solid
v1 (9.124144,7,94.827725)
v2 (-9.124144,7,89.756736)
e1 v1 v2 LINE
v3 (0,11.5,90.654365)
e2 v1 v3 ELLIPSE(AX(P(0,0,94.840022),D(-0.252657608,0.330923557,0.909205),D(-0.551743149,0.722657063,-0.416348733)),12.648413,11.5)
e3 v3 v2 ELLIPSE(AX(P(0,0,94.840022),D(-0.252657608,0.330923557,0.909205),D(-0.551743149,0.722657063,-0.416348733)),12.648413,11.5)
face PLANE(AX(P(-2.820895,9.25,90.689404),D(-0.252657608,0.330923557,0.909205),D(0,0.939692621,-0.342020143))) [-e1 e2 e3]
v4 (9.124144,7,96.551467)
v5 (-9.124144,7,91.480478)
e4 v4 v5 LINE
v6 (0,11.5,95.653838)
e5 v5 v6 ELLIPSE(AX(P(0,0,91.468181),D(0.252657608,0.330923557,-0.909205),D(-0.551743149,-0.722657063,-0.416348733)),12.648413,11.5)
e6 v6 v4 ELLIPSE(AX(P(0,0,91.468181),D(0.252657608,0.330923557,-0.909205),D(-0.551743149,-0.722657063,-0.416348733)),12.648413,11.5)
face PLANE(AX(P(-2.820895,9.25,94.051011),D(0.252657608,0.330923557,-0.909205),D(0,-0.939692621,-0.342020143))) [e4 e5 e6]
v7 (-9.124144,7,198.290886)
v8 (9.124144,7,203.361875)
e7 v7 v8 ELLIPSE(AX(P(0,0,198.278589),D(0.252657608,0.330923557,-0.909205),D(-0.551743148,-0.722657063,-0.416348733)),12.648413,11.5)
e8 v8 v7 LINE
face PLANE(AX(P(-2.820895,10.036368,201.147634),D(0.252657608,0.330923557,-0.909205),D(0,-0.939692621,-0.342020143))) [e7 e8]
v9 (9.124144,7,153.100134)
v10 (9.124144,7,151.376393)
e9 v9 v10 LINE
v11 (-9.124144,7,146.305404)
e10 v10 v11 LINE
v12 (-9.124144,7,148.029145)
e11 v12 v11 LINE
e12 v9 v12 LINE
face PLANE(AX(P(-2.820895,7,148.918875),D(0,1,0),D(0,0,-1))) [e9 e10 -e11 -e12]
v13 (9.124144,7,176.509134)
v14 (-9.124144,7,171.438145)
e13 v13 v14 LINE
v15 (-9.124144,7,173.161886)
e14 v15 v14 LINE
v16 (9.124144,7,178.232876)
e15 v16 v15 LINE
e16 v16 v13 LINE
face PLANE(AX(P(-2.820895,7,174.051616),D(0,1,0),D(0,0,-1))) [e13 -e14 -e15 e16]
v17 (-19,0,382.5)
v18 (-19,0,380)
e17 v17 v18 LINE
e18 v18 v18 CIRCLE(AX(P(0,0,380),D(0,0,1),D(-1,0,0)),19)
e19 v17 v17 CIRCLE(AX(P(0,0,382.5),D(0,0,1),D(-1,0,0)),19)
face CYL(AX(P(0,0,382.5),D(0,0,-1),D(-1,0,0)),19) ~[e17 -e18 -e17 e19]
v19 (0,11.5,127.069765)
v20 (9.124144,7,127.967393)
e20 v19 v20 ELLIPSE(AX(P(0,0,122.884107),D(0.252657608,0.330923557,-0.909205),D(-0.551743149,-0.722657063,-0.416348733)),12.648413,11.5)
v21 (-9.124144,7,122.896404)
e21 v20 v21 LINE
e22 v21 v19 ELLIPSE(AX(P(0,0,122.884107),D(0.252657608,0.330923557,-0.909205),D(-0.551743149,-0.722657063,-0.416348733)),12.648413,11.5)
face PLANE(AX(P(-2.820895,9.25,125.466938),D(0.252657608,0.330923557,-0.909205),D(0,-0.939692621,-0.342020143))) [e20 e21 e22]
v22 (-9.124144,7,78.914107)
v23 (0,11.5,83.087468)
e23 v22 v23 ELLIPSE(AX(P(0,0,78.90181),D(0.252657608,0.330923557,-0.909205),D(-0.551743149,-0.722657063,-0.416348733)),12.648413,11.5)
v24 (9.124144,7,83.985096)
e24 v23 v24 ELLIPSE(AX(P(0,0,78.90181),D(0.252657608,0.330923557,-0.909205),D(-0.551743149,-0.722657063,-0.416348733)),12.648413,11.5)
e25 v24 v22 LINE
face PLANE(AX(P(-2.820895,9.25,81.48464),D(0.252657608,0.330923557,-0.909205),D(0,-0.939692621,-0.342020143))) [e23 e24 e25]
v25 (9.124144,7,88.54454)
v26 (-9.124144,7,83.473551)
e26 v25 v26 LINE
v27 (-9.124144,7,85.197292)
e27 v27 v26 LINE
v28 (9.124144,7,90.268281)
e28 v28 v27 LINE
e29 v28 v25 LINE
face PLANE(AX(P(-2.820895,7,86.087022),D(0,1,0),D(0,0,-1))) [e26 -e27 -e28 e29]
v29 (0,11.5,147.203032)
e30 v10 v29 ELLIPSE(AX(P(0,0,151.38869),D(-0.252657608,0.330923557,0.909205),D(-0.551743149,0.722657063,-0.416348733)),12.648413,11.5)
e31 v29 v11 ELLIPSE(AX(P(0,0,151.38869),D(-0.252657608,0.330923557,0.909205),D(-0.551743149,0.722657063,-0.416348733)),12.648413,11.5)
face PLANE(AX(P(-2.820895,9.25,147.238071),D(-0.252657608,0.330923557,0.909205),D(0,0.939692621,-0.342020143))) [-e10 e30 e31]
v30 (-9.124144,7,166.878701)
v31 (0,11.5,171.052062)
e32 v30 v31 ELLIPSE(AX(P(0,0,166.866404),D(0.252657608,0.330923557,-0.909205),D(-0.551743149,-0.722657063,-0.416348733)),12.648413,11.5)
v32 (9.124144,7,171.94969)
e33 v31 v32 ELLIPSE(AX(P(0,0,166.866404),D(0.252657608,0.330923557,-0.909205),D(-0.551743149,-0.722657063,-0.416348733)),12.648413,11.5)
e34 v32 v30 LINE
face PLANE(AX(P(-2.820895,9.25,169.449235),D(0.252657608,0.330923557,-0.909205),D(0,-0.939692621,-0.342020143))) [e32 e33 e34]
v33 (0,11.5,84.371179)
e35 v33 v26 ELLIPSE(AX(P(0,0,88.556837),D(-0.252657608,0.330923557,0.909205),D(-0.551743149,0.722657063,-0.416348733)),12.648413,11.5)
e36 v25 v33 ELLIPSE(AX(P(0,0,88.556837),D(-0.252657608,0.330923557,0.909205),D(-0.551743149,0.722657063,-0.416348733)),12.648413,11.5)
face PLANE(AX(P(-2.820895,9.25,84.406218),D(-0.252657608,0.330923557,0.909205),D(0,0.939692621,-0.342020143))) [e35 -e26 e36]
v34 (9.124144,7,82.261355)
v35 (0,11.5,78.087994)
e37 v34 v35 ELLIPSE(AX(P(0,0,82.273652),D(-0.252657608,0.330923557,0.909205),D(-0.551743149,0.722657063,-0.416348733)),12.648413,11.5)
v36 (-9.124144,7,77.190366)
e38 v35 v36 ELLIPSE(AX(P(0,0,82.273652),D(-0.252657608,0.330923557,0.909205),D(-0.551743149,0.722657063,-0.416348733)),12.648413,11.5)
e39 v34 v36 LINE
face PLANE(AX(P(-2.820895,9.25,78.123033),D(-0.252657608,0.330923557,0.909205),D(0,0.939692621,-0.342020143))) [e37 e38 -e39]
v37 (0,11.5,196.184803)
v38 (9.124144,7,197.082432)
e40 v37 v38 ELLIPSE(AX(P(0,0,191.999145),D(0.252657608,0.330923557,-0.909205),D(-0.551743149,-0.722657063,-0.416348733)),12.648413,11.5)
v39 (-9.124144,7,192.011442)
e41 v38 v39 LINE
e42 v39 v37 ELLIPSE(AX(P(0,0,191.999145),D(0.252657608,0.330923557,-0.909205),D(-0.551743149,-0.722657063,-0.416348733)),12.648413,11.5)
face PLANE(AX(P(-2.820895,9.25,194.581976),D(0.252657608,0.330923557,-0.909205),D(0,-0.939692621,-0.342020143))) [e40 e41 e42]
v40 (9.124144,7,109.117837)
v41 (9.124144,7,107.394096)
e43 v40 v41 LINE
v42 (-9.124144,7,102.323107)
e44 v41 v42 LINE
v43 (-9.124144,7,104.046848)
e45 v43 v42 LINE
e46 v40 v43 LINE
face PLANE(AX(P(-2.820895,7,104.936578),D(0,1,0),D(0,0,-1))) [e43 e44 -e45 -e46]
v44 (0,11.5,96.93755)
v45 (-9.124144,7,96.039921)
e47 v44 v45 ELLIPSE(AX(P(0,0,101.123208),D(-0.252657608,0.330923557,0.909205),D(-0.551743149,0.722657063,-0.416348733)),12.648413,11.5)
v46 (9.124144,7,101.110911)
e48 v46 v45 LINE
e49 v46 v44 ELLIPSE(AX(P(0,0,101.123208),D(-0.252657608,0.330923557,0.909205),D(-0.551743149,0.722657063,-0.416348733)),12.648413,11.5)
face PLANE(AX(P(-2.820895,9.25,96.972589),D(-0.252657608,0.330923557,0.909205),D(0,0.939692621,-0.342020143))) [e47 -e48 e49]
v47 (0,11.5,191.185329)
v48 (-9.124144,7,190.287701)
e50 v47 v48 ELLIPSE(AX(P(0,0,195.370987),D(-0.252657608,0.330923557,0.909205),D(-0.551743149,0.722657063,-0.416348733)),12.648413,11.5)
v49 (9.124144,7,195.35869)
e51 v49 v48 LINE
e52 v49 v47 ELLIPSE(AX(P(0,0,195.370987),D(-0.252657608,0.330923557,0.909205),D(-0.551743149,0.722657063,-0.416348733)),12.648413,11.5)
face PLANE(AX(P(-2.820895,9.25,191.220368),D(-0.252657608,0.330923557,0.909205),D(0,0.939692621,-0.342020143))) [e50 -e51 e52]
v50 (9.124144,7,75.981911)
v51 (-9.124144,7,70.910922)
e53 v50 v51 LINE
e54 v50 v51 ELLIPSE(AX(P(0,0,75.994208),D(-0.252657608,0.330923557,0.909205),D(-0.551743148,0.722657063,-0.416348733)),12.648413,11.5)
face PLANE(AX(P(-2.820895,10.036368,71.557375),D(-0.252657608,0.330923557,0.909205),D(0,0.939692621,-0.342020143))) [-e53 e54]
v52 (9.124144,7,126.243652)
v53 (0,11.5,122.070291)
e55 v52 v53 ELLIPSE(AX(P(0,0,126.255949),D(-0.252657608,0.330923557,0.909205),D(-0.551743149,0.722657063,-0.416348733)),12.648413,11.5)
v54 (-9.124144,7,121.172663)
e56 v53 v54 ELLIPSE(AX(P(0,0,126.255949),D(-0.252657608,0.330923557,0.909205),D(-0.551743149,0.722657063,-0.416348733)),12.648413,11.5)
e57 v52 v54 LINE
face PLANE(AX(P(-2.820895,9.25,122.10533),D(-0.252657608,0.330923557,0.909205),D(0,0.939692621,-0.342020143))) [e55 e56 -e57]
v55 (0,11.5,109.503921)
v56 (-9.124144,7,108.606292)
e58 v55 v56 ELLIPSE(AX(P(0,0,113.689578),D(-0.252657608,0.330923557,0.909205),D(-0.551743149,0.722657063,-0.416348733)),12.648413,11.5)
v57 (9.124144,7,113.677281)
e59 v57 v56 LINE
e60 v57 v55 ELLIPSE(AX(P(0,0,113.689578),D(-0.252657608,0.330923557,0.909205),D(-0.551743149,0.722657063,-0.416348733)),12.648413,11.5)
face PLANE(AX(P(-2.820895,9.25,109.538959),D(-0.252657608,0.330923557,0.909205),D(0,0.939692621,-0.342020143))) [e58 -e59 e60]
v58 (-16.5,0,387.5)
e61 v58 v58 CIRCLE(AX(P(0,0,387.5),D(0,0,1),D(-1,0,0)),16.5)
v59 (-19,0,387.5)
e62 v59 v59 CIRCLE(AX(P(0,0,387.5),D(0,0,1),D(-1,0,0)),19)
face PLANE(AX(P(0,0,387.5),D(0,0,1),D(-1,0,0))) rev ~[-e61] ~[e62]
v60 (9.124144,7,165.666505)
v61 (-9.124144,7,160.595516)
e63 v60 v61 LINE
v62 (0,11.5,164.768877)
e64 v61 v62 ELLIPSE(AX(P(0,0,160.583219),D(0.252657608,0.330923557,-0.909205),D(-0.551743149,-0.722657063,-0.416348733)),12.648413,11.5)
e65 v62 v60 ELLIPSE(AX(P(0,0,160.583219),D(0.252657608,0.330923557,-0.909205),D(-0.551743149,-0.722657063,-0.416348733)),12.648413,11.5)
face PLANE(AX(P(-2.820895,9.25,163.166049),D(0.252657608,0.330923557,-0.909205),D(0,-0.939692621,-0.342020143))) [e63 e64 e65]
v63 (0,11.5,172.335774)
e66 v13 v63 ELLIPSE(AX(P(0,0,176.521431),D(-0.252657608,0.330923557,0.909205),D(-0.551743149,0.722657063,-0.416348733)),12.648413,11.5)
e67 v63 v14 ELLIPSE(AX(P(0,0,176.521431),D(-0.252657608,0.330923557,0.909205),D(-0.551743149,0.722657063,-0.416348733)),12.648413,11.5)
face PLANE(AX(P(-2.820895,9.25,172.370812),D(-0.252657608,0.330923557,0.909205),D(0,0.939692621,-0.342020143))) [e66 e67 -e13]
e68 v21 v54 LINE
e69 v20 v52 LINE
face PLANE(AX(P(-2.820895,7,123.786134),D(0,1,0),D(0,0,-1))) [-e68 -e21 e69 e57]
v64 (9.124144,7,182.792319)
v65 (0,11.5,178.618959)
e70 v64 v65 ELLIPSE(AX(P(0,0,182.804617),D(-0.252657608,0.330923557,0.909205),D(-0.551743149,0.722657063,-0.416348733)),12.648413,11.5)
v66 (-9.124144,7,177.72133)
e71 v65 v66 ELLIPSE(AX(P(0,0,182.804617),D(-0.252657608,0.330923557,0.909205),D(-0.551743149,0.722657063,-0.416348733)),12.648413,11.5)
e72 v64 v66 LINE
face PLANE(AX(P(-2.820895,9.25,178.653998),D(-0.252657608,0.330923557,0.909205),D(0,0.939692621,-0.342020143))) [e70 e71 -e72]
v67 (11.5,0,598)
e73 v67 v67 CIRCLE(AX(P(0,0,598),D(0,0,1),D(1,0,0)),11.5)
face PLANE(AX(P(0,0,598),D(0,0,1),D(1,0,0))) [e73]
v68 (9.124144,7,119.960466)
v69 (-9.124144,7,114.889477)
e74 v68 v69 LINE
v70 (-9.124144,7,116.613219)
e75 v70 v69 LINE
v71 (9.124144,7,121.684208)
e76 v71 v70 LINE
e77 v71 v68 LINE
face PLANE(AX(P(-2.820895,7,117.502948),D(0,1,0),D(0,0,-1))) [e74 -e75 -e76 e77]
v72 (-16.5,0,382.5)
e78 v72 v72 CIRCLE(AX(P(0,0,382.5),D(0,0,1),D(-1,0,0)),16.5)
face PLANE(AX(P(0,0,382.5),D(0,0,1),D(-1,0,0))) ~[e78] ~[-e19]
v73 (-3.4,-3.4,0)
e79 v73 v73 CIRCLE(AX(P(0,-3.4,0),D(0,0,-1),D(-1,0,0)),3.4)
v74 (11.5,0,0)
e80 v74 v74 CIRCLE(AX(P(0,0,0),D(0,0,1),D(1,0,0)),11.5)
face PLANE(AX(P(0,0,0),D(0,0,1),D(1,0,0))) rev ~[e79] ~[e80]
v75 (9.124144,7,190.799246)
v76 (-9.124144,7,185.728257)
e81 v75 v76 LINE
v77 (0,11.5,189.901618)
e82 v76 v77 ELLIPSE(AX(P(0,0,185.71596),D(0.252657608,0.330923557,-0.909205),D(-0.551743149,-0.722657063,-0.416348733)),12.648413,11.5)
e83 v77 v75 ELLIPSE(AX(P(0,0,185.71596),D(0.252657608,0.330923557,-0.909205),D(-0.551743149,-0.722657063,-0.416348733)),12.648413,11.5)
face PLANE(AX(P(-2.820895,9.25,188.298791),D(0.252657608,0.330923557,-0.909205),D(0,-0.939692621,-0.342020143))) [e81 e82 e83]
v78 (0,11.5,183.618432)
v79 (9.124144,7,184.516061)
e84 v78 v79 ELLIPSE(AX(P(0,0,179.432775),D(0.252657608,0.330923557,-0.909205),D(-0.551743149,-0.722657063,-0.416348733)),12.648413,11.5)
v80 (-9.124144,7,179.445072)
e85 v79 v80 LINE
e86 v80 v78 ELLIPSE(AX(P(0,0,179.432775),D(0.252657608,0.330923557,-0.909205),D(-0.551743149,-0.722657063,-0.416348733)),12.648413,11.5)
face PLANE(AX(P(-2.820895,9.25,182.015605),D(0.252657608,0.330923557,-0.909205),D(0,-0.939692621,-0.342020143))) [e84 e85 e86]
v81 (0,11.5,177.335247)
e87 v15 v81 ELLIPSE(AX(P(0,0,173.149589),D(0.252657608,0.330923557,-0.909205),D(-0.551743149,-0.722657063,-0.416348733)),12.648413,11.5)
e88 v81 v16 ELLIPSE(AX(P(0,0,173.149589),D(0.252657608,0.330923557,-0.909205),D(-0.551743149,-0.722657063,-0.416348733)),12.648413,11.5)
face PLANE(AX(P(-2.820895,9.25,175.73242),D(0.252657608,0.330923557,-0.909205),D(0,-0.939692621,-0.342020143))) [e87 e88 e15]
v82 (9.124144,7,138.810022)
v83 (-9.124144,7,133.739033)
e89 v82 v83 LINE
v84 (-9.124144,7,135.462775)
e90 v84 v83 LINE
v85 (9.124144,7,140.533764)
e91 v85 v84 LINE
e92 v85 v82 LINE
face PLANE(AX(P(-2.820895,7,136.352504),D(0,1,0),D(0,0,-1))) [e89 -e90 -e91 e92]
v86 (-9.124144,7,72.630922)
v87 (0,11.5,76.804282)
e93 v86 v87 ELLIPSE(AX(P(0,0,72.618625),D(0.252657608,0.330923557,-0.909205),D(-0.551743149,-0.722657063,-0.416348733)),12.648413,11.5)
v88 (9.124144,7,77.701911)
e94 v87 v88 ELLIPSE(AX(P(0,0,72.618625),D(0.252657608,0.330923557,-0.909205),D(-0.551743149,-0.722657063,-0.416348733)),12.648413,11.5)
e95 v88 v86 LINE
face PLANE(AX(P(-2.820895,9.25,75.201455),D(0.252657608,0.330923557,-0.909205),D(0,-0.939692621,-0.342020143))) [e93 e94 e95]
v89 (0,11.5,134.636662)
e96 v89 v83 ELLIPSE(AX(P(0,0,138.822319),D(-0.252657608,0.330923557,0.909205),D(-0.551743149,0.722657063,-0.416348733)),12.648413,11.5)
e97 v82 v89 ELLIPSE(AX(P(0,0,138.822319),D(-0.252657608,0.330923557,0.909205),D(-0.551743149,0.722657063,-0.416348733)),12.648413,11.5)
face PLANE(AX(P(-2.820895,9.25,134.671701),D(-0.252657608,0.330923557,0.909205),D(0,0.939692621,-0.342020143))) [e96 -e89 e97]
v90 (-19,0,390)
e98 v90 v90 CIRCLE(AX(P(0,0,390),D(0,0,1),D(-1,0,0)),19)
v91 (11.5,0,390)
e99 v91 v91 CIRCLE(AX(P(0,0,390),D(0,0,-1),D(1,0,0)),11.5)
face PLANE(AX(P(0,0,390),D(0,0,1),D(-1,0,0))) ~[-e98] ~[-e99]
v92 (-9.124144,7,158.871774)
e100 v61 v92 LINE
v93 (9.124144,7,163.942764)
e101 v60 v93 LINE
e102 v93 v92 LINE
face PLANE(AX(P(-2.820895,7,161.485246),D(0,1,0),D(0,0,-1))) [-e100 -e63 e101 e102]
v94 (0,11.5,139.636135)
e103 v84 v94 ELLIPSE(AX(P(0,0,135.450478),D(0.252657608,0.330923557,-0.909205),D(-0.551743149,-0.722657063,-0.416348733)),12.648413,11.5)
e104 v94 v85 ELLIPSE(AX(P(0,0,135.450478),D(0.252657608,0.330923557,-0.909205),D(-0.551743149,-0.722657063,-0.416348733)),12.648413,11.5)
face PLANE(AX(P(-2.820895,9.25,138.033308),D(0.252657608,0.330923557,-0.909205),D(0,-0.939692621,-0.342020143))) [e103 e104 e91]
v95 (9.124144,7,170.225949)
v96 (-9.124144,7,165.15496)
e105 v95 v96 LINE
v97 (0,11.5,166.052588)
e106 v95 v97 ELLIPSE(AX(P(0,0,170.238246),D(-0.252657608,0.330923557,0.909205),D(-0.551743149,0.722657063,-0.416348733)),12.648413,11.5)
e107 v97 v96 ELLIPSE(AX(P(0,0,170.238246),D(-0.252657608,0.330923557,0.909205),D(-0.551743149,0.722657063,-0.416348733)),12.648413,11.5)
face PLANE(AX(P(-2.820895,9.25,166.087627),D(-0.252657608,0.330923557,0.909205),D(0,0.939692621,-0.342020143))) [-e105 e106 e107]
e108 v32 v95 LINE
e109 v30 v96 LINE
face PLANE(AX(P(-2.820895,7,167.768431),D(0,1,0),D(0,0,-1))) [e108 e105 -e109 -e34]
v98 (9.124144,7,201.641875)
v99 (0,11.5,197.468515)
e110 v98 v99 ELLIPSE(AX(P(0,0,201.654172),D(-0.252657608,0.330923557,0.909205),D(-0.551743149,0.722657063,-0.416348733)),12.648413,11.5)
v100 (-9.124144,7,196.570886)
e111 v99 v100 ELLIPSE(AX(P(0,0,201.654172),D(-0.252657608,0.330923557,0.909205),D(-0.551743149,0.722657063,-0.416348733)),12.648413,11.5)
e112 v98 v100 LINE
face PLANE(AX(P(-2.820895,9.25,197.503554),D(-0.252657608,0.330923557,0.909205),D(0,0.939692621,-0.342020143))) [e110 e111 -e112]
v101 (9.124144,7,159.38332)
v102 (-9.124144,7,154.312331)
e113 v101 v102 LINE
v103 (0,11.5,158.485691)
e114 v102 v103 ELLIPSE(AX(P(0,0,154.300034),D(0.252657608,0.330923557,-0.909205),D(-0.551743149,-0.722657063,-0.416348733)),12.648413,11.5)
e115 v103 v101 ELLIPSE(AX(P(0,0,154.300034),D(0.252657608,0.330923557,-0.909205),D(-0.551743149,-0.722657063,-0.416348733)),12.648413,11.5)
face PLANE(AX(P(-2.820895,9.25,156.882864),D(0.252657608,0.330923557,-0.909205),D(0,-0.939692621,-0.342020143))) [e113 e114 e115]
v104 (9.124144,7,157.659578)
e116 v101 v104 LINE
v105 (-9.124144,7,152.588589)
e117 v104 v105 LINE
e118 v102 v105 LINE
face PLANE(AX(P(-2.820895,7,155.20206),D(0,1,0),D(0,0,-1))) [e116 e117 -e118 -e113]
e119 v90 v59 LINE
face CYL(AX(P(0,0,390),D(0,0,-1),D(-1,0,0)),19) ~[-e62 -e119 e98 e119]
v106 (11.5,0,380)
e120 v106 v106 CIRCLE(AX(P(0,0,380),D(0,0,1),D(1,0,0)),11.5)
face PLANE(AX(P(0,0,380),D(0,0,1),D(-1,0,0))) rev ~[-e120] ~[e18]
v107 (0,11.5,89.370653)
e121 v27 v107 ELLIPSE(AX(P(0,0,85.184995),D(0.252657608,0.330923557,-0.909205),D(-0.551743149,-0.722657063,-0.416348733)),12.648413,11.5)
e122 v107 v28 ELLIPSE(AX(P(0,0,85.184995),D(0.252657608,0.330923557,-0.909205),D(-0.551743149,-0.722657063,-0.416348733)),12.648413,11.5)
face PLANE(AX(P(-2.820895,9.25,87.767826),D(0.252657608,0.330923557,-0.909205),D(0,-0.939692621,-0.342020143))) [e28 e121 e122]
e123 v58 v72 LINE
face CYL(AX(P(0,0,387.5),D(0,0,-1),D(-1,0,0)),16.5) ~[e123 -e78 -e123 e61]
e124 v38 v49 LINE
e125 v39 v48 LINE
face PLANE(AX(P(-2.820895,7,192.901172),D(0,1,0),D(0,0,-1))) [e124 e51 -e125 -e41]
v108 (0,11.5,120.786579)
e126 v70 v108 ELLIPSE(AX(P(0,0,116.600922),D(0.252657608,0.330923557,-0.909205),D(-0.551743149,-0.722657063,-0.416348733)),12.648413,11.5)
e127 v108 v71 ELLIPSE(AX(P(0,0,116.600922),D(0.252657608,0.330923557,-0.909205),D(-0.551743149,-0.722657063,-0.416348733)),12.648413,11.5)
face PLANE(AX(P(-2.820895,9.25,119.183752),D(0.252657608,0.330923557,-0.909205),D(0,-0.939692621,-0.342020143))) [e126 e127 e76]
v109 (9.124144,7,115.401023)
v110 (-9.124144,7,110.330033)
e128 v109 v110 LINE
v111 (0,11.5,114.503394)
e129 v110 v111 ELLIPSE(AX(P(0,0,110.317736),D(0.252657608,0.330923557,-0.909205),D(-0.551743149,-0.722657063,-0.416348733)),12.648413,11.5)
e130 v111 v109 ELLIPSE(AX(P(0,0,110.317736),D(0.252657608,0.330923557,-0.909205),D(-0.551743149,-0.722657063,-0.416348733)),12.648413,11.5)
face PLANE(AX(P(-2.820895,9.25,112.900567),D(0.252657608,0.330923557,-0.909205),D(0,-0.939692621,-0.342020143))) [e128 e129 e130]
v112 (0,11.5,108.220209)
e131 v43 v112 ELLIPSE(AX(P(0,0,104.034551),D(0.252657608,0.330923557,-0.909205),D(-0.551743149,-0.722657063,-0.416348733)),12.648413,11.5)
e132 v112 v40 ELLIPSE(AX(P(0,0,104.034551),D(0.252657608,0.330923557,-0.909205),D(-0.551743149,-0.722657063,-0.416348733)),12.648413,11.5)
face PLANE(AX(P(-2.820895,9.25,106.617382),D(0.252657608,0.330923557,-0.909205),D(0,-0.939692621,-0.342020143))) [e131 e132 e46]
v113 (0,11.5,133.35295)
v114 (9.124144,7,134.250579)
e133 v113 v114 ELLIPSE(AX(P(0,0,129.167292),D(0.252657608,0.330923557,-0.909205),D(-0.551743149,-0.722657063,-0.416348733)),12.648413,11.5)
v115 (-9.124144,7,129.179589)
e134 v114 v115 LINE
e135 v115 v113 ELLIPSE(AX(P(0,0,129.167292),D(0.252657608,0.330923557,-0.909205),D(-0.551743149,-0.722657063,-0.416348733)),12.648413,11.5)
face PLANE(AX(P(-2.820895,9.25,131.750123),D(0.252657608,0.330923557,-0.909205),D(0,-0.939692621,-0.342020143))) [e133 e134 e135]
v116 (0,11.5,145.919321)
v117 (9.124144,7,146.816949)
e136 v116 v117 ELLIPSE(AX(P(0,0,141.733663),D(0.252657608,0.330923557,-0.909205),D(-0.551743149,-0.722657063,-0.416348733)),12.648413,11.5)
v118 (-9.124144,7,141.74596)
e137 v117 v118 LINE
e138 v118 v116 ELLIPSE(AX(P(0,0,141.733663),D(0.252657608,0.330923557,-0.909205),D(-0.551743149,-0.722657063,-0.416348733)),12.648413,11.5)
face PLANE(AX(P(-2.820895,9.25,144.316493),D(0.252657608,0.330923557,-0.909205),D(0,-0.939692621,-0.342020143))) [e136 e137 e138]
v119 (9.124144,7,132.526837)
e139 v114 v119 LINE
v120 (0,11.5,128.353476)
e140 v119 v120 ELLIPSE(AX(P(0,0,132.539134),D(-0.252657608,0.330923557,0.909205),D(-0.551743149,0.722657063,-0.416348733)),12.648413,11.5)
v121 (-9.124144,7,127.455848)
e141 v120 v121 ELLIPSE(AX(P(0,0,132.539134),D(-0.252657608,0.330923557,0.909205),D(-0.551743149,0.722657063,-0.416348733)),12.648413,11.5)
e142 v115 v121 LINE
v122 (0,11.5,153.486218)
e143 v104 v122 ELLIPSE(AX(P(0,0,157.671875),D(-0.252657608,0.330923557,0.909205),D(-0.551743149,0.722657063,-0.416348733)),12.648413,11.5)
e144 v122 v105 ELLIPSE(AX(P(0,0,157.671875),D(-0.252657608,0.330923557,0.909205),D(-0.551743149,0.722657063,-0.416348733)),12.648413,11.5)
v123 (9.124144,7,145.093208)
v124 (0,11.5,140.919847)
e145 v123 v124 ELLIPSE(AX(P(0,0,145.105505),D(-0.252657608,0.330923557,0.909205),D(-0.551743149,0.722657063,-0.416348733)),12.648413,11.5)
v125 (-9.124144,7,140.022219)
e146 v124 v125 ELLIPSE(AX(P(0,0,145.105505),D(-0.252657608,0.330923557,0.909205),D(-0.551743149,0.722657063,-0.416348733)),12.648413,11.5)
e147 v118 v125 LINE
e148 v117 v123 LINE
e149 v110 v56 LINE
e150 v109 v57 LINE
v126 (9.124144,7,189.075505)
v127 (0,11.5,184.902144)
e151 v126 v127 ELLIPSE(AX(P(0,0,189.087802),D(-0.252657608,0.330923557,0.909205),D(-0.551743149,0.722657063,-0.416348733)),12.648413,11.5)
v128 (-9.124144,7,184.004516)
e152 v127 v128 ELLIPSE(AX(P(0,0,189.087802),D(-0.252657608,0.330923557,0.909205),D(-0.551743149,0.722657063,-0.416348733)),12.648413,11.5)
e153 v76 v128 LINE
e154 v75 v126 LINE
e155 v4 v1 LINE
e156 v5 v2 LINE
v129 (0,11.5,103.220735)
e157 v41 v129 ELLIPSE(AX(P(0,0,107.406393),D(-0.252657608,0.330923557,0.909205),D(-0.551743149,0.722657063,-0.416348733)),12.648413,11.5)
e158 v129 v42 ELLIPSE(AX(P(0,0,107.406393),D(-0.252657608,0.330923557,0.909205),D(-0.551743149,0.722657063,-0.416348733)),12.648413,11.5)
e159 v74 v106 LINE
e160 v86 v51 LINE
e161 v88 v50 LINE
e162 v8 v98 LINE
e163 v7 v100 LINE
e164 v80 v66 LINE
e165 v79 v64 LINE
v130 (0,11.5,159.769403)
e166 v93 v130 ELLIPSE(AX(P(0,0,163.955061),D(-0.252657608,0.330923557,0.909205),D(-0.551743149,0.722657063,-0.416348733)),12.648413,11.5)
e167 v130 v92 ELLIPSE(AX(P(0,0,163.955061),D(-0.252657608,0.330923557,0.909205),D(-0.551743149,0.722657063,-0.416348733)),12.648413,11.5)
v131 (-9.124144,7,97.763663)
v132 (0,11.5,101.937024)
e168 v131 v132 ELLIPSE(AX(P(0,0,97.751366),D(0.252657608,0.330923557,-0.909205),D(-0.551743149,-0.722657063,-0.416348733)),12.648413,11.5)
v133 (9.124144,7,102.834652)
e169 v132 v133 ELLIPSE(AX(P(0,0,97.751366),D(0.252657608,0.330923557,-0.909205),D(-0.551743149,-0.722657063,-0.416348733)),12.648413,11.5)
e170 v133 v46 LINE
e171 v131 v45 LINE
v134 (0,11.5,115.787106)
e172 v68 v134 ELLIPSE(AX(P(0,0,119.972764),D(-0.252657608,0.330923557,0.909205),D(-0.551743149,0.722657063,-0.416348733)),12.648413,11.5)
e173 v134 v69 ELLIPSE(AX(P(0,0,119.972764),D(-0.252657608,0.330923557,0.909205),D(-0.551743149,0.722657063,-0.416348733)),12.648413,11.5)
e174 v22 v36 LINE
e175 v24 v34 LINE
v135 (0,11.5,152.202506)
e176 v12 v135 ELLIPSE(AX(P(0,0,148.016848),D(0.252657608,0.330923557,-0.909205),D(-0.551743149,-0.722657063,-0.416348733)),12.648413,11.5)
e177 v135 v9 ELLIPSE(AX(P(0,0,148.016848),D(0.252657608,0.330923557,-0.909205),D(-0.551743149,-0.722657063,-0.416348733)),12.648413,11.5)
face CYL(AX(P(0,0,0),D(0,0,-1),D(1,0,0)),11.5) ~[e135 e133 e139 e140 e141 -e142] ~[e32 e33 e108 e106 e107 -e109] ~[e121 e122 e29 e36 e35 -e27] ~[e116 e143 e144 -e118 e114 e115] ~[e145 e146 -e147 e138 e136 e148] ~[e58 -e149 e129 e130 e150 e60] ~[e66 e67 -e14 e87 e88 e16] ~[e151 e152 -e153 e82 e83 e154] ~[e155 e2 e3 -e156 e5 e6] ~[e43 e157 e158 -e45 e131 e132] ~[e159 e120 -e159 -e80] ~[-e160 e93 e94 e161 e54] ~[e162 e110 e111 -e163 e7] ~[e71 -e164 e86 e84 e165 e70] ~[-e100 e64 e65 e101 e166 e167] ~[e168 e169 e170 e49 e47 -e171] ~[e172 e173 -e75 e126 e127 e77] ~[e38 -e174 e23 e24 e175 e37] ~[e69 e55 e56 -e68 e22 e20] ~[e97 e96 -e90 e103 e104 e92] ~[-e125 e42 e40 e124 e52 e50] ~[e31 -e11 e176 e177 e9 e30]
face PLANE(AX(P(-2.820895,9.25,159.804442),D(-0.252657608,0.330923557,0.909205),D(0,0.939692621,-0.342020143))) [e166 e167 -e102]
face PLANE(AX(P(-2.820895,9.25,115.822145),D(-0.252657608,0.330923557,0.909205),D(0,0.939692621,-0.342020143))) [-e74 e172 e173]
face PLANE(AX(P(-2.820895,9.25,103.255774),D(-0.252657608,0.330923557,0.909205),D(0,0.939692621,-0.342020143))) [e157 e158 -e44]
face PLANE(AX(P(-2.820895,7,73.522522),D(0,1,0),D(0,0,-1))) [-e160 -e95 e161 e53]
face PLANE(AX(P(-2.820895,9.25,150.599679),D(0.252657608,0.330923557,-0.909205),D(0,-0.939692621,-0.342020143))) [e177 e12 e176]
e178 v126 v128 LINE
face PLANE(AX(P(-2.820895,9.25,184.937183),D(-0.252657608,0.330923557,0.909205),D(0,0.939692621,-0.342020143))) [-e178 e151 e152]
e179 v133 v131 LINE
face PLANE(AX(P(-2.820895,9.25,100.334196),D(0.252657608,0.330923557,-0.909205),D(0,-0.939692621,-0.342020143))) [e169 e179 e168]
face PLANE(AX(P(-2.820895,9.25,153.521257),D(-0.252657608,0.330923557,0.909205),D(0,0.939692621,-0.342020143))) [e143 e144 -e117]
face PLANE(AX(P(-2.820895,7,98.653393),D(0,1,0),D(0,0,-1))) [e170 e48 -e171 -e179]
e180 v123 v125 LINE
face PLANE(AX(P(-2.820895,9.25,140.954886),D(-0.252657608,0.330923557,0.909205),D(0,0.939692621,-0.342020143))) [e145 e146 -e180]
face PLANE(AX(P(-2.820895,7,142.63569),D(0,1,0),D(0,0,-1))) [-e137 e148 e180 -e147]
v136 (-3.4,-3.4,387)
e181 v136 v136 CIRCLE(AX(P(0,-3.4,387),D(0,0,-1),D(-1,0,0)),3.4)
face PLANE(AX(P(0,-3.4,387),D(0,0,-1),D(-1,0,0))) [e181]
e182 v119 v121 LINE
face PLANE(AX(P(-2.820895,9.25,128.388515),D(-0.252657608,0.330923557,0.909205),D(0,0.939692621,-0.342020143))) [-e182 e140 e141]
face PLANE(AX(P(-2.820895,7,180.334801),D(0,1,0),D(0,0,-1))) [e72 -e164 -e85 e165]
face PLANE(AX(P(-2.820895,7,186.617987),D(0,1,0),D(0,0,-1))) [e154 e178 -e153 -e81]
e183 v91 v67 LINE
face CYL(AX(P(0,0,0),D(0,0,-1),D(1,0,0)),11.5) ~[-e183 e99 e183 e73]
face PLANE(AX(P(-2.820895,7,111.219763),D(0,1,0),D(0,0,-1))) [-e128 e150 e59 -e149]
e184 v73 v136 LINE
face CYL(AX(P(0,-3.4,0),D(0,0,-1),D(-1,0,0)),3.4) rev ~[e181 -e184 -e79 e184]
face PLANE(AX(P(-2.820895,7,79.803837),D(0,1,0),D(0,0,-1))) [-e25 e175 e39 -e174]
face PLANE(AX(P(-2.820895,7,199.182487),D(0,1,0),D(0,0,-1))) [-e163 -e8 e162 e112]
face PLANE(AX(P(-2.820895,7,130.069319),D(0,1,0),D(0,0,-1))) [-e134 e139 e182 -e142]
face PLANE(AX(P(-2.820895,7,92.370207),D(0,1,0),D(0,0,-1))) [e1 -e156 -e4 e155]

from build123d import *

# Parameters (mm, degrees)
IZIM5_R                     = 11.5
Y_KSEKLIK_EKSTR_ZYON2_DEPTH = 598
IZIM12_R                    = 3.4
KES_EKSTR_ZYON1_DEPTH       = 387


with BuildPart() as part:
    # Çizim5 → Yükseklik-Ekstrüzyon2 (new body)
    with BuildSketch(Plane.XY):
        Circle(IZIM5_R)
    extrude(amount=Y_KSEKLIK_EKSTR_ZYON2_DEPTH)

    # Kes-Süpür2: sweep along a path in Çizim7
    with BuildLine(Plane(origin=(0, 0, 0), x_dir=(1, 0, 0), z_dir=(0, 1, 0))) as kes_s_p_r2_path:
        Line((11.5, -47.002601747), (-17.141789086, -39.043378107))
    # Çizim6 → Kes-Süpür2 (sweep, cut)
    with BuildSketch(Plane(origin=(11.5, 0, 0), x_dir=(0, 0, -1), z_dir=(1, 0, 0))):
        Polygon((-78.362133946, 7), (-80, 11.5), (-81.283711713, 11.5), (-82.921577767, 7), (-84.645319246, 7), (-86.2831853, 11.5), (-87.566897013, 11.5), (-89.204763067, 7), (-90.928504546, 7), (-92.5663706, 11.5), (-93.850082313, 11.5), (-95.487948367, 7), (-97.211689846, 7), (-98.8495559, 11.5), (-100.133267613, 11.5), (-101.771133667, 7), (-103.494875146, 7), (-105.1327412, 11.5), (-106.416452913, 11.5), (-108.054318967, 7), (-109.778060446, 7), (-111.4159265, 11.5), (-112.699638213, 11.5), (-114.337504267, 7), (-116.061245746, 7), (-117.6991118, 11.5), (-118.982823513, 11.5), (-120.620689567, 7), (-122.344431046, 7), (-123.9822971, 11.5), (-125.266008813, 11.5), (-126.903874867, 7), (-128.627616346, 7), (-130.2654824, 11.5), (-131.549194113, 11.5), (-133.187060167, 7), (-134.910801646, 7), (-136.5486677, 11.5), (-137.832379413, 11.5), (-139.470245467, 7), (-141.193986946, 7), (-142.831853, 11.5), (-144.115564713, 11.5), (-145.753430767, 7), (-147.477172246, 7), (-149.1150383, 11.5), (-150.398750013, 11.5), (-152.036616067, 7), (-153.760357546, 7), (-155.3982236, 11.5), (-156.681935313, 11.5), (-158.319801367, 7), (-160.043542846, 7), (-161.6814089, 11.5), (-162.965120613, 11.5), (-164.602986667, 7), (-166.326728146, 7), (-167.9645942, 11.5), (-169.248305913, 11.5), (-170.886171967, 7), (-172.609913446, 7), (-174.2477795, 11.5), (-175.531491213, 11.5), (-177.169357267, 7), (-178.893098746, 7), (-180.5309648, 11.5), (-181.814676513, 11.5), (-183.452542567, 7), (-185.176284046, 7), (-186.8141501, 11.5), (-188.097861813, 11.5), (-189.735727867, 7), (-191.459469346, 7), (-193.0973354, 11.5), (-194.381047113, 11.5), (-196.018913167, 7), (-197.742654646, 7), (-199.3805207, 11.5), (-200.664232413, 11.5), (-202.302098467, 7), (-204.022098467, 7), (-206.232393599, 13.072735964), (-74.431838814, 13.072735964), (-76.642133946, 7), align=None)
    sweep(path=kes_s_p_r2_path.line, mode=Mode.SUBTRACT)

    # Çizim11 → Döndür1 (revolve)
    with BuildSketch(Plane(origin=(0, 0, 0), x_dir=(0, 0, -1), z_dir=(1, 0, 0)), mode=Mode.PRIVATE) as d_nd_r1_sk:
        Polygon((-380, 19), (-380, 11.5), (-390, 11.5), (-390, 19), (-387.5, 19), (-387.5, 16.5), (-382.5, 16.5), (-382.5, 19), align=None)
    revolve(d_nd_r1_sk.sketch.rotate(Axis((0, 0, 0), (0, 0, 1)), 90), axis=Axis((0, 0, 0), (0, 0, 1)))

    # Çizim12 → Kes-Ekstrüzyon1 (cut)
    with BuildSketch(Plane(origin=(0, 0, 0), x_dir=(-1, 0, 0), z_dir=(0, 0, -1))):
        with Locations((0, -3.4)):
            Circle(IZIM12_R)
    extrude(amount=-KES_EKSTR_ZYON1_DEPTH, mode=Mode.SUBTRACT)


solid = part.part
